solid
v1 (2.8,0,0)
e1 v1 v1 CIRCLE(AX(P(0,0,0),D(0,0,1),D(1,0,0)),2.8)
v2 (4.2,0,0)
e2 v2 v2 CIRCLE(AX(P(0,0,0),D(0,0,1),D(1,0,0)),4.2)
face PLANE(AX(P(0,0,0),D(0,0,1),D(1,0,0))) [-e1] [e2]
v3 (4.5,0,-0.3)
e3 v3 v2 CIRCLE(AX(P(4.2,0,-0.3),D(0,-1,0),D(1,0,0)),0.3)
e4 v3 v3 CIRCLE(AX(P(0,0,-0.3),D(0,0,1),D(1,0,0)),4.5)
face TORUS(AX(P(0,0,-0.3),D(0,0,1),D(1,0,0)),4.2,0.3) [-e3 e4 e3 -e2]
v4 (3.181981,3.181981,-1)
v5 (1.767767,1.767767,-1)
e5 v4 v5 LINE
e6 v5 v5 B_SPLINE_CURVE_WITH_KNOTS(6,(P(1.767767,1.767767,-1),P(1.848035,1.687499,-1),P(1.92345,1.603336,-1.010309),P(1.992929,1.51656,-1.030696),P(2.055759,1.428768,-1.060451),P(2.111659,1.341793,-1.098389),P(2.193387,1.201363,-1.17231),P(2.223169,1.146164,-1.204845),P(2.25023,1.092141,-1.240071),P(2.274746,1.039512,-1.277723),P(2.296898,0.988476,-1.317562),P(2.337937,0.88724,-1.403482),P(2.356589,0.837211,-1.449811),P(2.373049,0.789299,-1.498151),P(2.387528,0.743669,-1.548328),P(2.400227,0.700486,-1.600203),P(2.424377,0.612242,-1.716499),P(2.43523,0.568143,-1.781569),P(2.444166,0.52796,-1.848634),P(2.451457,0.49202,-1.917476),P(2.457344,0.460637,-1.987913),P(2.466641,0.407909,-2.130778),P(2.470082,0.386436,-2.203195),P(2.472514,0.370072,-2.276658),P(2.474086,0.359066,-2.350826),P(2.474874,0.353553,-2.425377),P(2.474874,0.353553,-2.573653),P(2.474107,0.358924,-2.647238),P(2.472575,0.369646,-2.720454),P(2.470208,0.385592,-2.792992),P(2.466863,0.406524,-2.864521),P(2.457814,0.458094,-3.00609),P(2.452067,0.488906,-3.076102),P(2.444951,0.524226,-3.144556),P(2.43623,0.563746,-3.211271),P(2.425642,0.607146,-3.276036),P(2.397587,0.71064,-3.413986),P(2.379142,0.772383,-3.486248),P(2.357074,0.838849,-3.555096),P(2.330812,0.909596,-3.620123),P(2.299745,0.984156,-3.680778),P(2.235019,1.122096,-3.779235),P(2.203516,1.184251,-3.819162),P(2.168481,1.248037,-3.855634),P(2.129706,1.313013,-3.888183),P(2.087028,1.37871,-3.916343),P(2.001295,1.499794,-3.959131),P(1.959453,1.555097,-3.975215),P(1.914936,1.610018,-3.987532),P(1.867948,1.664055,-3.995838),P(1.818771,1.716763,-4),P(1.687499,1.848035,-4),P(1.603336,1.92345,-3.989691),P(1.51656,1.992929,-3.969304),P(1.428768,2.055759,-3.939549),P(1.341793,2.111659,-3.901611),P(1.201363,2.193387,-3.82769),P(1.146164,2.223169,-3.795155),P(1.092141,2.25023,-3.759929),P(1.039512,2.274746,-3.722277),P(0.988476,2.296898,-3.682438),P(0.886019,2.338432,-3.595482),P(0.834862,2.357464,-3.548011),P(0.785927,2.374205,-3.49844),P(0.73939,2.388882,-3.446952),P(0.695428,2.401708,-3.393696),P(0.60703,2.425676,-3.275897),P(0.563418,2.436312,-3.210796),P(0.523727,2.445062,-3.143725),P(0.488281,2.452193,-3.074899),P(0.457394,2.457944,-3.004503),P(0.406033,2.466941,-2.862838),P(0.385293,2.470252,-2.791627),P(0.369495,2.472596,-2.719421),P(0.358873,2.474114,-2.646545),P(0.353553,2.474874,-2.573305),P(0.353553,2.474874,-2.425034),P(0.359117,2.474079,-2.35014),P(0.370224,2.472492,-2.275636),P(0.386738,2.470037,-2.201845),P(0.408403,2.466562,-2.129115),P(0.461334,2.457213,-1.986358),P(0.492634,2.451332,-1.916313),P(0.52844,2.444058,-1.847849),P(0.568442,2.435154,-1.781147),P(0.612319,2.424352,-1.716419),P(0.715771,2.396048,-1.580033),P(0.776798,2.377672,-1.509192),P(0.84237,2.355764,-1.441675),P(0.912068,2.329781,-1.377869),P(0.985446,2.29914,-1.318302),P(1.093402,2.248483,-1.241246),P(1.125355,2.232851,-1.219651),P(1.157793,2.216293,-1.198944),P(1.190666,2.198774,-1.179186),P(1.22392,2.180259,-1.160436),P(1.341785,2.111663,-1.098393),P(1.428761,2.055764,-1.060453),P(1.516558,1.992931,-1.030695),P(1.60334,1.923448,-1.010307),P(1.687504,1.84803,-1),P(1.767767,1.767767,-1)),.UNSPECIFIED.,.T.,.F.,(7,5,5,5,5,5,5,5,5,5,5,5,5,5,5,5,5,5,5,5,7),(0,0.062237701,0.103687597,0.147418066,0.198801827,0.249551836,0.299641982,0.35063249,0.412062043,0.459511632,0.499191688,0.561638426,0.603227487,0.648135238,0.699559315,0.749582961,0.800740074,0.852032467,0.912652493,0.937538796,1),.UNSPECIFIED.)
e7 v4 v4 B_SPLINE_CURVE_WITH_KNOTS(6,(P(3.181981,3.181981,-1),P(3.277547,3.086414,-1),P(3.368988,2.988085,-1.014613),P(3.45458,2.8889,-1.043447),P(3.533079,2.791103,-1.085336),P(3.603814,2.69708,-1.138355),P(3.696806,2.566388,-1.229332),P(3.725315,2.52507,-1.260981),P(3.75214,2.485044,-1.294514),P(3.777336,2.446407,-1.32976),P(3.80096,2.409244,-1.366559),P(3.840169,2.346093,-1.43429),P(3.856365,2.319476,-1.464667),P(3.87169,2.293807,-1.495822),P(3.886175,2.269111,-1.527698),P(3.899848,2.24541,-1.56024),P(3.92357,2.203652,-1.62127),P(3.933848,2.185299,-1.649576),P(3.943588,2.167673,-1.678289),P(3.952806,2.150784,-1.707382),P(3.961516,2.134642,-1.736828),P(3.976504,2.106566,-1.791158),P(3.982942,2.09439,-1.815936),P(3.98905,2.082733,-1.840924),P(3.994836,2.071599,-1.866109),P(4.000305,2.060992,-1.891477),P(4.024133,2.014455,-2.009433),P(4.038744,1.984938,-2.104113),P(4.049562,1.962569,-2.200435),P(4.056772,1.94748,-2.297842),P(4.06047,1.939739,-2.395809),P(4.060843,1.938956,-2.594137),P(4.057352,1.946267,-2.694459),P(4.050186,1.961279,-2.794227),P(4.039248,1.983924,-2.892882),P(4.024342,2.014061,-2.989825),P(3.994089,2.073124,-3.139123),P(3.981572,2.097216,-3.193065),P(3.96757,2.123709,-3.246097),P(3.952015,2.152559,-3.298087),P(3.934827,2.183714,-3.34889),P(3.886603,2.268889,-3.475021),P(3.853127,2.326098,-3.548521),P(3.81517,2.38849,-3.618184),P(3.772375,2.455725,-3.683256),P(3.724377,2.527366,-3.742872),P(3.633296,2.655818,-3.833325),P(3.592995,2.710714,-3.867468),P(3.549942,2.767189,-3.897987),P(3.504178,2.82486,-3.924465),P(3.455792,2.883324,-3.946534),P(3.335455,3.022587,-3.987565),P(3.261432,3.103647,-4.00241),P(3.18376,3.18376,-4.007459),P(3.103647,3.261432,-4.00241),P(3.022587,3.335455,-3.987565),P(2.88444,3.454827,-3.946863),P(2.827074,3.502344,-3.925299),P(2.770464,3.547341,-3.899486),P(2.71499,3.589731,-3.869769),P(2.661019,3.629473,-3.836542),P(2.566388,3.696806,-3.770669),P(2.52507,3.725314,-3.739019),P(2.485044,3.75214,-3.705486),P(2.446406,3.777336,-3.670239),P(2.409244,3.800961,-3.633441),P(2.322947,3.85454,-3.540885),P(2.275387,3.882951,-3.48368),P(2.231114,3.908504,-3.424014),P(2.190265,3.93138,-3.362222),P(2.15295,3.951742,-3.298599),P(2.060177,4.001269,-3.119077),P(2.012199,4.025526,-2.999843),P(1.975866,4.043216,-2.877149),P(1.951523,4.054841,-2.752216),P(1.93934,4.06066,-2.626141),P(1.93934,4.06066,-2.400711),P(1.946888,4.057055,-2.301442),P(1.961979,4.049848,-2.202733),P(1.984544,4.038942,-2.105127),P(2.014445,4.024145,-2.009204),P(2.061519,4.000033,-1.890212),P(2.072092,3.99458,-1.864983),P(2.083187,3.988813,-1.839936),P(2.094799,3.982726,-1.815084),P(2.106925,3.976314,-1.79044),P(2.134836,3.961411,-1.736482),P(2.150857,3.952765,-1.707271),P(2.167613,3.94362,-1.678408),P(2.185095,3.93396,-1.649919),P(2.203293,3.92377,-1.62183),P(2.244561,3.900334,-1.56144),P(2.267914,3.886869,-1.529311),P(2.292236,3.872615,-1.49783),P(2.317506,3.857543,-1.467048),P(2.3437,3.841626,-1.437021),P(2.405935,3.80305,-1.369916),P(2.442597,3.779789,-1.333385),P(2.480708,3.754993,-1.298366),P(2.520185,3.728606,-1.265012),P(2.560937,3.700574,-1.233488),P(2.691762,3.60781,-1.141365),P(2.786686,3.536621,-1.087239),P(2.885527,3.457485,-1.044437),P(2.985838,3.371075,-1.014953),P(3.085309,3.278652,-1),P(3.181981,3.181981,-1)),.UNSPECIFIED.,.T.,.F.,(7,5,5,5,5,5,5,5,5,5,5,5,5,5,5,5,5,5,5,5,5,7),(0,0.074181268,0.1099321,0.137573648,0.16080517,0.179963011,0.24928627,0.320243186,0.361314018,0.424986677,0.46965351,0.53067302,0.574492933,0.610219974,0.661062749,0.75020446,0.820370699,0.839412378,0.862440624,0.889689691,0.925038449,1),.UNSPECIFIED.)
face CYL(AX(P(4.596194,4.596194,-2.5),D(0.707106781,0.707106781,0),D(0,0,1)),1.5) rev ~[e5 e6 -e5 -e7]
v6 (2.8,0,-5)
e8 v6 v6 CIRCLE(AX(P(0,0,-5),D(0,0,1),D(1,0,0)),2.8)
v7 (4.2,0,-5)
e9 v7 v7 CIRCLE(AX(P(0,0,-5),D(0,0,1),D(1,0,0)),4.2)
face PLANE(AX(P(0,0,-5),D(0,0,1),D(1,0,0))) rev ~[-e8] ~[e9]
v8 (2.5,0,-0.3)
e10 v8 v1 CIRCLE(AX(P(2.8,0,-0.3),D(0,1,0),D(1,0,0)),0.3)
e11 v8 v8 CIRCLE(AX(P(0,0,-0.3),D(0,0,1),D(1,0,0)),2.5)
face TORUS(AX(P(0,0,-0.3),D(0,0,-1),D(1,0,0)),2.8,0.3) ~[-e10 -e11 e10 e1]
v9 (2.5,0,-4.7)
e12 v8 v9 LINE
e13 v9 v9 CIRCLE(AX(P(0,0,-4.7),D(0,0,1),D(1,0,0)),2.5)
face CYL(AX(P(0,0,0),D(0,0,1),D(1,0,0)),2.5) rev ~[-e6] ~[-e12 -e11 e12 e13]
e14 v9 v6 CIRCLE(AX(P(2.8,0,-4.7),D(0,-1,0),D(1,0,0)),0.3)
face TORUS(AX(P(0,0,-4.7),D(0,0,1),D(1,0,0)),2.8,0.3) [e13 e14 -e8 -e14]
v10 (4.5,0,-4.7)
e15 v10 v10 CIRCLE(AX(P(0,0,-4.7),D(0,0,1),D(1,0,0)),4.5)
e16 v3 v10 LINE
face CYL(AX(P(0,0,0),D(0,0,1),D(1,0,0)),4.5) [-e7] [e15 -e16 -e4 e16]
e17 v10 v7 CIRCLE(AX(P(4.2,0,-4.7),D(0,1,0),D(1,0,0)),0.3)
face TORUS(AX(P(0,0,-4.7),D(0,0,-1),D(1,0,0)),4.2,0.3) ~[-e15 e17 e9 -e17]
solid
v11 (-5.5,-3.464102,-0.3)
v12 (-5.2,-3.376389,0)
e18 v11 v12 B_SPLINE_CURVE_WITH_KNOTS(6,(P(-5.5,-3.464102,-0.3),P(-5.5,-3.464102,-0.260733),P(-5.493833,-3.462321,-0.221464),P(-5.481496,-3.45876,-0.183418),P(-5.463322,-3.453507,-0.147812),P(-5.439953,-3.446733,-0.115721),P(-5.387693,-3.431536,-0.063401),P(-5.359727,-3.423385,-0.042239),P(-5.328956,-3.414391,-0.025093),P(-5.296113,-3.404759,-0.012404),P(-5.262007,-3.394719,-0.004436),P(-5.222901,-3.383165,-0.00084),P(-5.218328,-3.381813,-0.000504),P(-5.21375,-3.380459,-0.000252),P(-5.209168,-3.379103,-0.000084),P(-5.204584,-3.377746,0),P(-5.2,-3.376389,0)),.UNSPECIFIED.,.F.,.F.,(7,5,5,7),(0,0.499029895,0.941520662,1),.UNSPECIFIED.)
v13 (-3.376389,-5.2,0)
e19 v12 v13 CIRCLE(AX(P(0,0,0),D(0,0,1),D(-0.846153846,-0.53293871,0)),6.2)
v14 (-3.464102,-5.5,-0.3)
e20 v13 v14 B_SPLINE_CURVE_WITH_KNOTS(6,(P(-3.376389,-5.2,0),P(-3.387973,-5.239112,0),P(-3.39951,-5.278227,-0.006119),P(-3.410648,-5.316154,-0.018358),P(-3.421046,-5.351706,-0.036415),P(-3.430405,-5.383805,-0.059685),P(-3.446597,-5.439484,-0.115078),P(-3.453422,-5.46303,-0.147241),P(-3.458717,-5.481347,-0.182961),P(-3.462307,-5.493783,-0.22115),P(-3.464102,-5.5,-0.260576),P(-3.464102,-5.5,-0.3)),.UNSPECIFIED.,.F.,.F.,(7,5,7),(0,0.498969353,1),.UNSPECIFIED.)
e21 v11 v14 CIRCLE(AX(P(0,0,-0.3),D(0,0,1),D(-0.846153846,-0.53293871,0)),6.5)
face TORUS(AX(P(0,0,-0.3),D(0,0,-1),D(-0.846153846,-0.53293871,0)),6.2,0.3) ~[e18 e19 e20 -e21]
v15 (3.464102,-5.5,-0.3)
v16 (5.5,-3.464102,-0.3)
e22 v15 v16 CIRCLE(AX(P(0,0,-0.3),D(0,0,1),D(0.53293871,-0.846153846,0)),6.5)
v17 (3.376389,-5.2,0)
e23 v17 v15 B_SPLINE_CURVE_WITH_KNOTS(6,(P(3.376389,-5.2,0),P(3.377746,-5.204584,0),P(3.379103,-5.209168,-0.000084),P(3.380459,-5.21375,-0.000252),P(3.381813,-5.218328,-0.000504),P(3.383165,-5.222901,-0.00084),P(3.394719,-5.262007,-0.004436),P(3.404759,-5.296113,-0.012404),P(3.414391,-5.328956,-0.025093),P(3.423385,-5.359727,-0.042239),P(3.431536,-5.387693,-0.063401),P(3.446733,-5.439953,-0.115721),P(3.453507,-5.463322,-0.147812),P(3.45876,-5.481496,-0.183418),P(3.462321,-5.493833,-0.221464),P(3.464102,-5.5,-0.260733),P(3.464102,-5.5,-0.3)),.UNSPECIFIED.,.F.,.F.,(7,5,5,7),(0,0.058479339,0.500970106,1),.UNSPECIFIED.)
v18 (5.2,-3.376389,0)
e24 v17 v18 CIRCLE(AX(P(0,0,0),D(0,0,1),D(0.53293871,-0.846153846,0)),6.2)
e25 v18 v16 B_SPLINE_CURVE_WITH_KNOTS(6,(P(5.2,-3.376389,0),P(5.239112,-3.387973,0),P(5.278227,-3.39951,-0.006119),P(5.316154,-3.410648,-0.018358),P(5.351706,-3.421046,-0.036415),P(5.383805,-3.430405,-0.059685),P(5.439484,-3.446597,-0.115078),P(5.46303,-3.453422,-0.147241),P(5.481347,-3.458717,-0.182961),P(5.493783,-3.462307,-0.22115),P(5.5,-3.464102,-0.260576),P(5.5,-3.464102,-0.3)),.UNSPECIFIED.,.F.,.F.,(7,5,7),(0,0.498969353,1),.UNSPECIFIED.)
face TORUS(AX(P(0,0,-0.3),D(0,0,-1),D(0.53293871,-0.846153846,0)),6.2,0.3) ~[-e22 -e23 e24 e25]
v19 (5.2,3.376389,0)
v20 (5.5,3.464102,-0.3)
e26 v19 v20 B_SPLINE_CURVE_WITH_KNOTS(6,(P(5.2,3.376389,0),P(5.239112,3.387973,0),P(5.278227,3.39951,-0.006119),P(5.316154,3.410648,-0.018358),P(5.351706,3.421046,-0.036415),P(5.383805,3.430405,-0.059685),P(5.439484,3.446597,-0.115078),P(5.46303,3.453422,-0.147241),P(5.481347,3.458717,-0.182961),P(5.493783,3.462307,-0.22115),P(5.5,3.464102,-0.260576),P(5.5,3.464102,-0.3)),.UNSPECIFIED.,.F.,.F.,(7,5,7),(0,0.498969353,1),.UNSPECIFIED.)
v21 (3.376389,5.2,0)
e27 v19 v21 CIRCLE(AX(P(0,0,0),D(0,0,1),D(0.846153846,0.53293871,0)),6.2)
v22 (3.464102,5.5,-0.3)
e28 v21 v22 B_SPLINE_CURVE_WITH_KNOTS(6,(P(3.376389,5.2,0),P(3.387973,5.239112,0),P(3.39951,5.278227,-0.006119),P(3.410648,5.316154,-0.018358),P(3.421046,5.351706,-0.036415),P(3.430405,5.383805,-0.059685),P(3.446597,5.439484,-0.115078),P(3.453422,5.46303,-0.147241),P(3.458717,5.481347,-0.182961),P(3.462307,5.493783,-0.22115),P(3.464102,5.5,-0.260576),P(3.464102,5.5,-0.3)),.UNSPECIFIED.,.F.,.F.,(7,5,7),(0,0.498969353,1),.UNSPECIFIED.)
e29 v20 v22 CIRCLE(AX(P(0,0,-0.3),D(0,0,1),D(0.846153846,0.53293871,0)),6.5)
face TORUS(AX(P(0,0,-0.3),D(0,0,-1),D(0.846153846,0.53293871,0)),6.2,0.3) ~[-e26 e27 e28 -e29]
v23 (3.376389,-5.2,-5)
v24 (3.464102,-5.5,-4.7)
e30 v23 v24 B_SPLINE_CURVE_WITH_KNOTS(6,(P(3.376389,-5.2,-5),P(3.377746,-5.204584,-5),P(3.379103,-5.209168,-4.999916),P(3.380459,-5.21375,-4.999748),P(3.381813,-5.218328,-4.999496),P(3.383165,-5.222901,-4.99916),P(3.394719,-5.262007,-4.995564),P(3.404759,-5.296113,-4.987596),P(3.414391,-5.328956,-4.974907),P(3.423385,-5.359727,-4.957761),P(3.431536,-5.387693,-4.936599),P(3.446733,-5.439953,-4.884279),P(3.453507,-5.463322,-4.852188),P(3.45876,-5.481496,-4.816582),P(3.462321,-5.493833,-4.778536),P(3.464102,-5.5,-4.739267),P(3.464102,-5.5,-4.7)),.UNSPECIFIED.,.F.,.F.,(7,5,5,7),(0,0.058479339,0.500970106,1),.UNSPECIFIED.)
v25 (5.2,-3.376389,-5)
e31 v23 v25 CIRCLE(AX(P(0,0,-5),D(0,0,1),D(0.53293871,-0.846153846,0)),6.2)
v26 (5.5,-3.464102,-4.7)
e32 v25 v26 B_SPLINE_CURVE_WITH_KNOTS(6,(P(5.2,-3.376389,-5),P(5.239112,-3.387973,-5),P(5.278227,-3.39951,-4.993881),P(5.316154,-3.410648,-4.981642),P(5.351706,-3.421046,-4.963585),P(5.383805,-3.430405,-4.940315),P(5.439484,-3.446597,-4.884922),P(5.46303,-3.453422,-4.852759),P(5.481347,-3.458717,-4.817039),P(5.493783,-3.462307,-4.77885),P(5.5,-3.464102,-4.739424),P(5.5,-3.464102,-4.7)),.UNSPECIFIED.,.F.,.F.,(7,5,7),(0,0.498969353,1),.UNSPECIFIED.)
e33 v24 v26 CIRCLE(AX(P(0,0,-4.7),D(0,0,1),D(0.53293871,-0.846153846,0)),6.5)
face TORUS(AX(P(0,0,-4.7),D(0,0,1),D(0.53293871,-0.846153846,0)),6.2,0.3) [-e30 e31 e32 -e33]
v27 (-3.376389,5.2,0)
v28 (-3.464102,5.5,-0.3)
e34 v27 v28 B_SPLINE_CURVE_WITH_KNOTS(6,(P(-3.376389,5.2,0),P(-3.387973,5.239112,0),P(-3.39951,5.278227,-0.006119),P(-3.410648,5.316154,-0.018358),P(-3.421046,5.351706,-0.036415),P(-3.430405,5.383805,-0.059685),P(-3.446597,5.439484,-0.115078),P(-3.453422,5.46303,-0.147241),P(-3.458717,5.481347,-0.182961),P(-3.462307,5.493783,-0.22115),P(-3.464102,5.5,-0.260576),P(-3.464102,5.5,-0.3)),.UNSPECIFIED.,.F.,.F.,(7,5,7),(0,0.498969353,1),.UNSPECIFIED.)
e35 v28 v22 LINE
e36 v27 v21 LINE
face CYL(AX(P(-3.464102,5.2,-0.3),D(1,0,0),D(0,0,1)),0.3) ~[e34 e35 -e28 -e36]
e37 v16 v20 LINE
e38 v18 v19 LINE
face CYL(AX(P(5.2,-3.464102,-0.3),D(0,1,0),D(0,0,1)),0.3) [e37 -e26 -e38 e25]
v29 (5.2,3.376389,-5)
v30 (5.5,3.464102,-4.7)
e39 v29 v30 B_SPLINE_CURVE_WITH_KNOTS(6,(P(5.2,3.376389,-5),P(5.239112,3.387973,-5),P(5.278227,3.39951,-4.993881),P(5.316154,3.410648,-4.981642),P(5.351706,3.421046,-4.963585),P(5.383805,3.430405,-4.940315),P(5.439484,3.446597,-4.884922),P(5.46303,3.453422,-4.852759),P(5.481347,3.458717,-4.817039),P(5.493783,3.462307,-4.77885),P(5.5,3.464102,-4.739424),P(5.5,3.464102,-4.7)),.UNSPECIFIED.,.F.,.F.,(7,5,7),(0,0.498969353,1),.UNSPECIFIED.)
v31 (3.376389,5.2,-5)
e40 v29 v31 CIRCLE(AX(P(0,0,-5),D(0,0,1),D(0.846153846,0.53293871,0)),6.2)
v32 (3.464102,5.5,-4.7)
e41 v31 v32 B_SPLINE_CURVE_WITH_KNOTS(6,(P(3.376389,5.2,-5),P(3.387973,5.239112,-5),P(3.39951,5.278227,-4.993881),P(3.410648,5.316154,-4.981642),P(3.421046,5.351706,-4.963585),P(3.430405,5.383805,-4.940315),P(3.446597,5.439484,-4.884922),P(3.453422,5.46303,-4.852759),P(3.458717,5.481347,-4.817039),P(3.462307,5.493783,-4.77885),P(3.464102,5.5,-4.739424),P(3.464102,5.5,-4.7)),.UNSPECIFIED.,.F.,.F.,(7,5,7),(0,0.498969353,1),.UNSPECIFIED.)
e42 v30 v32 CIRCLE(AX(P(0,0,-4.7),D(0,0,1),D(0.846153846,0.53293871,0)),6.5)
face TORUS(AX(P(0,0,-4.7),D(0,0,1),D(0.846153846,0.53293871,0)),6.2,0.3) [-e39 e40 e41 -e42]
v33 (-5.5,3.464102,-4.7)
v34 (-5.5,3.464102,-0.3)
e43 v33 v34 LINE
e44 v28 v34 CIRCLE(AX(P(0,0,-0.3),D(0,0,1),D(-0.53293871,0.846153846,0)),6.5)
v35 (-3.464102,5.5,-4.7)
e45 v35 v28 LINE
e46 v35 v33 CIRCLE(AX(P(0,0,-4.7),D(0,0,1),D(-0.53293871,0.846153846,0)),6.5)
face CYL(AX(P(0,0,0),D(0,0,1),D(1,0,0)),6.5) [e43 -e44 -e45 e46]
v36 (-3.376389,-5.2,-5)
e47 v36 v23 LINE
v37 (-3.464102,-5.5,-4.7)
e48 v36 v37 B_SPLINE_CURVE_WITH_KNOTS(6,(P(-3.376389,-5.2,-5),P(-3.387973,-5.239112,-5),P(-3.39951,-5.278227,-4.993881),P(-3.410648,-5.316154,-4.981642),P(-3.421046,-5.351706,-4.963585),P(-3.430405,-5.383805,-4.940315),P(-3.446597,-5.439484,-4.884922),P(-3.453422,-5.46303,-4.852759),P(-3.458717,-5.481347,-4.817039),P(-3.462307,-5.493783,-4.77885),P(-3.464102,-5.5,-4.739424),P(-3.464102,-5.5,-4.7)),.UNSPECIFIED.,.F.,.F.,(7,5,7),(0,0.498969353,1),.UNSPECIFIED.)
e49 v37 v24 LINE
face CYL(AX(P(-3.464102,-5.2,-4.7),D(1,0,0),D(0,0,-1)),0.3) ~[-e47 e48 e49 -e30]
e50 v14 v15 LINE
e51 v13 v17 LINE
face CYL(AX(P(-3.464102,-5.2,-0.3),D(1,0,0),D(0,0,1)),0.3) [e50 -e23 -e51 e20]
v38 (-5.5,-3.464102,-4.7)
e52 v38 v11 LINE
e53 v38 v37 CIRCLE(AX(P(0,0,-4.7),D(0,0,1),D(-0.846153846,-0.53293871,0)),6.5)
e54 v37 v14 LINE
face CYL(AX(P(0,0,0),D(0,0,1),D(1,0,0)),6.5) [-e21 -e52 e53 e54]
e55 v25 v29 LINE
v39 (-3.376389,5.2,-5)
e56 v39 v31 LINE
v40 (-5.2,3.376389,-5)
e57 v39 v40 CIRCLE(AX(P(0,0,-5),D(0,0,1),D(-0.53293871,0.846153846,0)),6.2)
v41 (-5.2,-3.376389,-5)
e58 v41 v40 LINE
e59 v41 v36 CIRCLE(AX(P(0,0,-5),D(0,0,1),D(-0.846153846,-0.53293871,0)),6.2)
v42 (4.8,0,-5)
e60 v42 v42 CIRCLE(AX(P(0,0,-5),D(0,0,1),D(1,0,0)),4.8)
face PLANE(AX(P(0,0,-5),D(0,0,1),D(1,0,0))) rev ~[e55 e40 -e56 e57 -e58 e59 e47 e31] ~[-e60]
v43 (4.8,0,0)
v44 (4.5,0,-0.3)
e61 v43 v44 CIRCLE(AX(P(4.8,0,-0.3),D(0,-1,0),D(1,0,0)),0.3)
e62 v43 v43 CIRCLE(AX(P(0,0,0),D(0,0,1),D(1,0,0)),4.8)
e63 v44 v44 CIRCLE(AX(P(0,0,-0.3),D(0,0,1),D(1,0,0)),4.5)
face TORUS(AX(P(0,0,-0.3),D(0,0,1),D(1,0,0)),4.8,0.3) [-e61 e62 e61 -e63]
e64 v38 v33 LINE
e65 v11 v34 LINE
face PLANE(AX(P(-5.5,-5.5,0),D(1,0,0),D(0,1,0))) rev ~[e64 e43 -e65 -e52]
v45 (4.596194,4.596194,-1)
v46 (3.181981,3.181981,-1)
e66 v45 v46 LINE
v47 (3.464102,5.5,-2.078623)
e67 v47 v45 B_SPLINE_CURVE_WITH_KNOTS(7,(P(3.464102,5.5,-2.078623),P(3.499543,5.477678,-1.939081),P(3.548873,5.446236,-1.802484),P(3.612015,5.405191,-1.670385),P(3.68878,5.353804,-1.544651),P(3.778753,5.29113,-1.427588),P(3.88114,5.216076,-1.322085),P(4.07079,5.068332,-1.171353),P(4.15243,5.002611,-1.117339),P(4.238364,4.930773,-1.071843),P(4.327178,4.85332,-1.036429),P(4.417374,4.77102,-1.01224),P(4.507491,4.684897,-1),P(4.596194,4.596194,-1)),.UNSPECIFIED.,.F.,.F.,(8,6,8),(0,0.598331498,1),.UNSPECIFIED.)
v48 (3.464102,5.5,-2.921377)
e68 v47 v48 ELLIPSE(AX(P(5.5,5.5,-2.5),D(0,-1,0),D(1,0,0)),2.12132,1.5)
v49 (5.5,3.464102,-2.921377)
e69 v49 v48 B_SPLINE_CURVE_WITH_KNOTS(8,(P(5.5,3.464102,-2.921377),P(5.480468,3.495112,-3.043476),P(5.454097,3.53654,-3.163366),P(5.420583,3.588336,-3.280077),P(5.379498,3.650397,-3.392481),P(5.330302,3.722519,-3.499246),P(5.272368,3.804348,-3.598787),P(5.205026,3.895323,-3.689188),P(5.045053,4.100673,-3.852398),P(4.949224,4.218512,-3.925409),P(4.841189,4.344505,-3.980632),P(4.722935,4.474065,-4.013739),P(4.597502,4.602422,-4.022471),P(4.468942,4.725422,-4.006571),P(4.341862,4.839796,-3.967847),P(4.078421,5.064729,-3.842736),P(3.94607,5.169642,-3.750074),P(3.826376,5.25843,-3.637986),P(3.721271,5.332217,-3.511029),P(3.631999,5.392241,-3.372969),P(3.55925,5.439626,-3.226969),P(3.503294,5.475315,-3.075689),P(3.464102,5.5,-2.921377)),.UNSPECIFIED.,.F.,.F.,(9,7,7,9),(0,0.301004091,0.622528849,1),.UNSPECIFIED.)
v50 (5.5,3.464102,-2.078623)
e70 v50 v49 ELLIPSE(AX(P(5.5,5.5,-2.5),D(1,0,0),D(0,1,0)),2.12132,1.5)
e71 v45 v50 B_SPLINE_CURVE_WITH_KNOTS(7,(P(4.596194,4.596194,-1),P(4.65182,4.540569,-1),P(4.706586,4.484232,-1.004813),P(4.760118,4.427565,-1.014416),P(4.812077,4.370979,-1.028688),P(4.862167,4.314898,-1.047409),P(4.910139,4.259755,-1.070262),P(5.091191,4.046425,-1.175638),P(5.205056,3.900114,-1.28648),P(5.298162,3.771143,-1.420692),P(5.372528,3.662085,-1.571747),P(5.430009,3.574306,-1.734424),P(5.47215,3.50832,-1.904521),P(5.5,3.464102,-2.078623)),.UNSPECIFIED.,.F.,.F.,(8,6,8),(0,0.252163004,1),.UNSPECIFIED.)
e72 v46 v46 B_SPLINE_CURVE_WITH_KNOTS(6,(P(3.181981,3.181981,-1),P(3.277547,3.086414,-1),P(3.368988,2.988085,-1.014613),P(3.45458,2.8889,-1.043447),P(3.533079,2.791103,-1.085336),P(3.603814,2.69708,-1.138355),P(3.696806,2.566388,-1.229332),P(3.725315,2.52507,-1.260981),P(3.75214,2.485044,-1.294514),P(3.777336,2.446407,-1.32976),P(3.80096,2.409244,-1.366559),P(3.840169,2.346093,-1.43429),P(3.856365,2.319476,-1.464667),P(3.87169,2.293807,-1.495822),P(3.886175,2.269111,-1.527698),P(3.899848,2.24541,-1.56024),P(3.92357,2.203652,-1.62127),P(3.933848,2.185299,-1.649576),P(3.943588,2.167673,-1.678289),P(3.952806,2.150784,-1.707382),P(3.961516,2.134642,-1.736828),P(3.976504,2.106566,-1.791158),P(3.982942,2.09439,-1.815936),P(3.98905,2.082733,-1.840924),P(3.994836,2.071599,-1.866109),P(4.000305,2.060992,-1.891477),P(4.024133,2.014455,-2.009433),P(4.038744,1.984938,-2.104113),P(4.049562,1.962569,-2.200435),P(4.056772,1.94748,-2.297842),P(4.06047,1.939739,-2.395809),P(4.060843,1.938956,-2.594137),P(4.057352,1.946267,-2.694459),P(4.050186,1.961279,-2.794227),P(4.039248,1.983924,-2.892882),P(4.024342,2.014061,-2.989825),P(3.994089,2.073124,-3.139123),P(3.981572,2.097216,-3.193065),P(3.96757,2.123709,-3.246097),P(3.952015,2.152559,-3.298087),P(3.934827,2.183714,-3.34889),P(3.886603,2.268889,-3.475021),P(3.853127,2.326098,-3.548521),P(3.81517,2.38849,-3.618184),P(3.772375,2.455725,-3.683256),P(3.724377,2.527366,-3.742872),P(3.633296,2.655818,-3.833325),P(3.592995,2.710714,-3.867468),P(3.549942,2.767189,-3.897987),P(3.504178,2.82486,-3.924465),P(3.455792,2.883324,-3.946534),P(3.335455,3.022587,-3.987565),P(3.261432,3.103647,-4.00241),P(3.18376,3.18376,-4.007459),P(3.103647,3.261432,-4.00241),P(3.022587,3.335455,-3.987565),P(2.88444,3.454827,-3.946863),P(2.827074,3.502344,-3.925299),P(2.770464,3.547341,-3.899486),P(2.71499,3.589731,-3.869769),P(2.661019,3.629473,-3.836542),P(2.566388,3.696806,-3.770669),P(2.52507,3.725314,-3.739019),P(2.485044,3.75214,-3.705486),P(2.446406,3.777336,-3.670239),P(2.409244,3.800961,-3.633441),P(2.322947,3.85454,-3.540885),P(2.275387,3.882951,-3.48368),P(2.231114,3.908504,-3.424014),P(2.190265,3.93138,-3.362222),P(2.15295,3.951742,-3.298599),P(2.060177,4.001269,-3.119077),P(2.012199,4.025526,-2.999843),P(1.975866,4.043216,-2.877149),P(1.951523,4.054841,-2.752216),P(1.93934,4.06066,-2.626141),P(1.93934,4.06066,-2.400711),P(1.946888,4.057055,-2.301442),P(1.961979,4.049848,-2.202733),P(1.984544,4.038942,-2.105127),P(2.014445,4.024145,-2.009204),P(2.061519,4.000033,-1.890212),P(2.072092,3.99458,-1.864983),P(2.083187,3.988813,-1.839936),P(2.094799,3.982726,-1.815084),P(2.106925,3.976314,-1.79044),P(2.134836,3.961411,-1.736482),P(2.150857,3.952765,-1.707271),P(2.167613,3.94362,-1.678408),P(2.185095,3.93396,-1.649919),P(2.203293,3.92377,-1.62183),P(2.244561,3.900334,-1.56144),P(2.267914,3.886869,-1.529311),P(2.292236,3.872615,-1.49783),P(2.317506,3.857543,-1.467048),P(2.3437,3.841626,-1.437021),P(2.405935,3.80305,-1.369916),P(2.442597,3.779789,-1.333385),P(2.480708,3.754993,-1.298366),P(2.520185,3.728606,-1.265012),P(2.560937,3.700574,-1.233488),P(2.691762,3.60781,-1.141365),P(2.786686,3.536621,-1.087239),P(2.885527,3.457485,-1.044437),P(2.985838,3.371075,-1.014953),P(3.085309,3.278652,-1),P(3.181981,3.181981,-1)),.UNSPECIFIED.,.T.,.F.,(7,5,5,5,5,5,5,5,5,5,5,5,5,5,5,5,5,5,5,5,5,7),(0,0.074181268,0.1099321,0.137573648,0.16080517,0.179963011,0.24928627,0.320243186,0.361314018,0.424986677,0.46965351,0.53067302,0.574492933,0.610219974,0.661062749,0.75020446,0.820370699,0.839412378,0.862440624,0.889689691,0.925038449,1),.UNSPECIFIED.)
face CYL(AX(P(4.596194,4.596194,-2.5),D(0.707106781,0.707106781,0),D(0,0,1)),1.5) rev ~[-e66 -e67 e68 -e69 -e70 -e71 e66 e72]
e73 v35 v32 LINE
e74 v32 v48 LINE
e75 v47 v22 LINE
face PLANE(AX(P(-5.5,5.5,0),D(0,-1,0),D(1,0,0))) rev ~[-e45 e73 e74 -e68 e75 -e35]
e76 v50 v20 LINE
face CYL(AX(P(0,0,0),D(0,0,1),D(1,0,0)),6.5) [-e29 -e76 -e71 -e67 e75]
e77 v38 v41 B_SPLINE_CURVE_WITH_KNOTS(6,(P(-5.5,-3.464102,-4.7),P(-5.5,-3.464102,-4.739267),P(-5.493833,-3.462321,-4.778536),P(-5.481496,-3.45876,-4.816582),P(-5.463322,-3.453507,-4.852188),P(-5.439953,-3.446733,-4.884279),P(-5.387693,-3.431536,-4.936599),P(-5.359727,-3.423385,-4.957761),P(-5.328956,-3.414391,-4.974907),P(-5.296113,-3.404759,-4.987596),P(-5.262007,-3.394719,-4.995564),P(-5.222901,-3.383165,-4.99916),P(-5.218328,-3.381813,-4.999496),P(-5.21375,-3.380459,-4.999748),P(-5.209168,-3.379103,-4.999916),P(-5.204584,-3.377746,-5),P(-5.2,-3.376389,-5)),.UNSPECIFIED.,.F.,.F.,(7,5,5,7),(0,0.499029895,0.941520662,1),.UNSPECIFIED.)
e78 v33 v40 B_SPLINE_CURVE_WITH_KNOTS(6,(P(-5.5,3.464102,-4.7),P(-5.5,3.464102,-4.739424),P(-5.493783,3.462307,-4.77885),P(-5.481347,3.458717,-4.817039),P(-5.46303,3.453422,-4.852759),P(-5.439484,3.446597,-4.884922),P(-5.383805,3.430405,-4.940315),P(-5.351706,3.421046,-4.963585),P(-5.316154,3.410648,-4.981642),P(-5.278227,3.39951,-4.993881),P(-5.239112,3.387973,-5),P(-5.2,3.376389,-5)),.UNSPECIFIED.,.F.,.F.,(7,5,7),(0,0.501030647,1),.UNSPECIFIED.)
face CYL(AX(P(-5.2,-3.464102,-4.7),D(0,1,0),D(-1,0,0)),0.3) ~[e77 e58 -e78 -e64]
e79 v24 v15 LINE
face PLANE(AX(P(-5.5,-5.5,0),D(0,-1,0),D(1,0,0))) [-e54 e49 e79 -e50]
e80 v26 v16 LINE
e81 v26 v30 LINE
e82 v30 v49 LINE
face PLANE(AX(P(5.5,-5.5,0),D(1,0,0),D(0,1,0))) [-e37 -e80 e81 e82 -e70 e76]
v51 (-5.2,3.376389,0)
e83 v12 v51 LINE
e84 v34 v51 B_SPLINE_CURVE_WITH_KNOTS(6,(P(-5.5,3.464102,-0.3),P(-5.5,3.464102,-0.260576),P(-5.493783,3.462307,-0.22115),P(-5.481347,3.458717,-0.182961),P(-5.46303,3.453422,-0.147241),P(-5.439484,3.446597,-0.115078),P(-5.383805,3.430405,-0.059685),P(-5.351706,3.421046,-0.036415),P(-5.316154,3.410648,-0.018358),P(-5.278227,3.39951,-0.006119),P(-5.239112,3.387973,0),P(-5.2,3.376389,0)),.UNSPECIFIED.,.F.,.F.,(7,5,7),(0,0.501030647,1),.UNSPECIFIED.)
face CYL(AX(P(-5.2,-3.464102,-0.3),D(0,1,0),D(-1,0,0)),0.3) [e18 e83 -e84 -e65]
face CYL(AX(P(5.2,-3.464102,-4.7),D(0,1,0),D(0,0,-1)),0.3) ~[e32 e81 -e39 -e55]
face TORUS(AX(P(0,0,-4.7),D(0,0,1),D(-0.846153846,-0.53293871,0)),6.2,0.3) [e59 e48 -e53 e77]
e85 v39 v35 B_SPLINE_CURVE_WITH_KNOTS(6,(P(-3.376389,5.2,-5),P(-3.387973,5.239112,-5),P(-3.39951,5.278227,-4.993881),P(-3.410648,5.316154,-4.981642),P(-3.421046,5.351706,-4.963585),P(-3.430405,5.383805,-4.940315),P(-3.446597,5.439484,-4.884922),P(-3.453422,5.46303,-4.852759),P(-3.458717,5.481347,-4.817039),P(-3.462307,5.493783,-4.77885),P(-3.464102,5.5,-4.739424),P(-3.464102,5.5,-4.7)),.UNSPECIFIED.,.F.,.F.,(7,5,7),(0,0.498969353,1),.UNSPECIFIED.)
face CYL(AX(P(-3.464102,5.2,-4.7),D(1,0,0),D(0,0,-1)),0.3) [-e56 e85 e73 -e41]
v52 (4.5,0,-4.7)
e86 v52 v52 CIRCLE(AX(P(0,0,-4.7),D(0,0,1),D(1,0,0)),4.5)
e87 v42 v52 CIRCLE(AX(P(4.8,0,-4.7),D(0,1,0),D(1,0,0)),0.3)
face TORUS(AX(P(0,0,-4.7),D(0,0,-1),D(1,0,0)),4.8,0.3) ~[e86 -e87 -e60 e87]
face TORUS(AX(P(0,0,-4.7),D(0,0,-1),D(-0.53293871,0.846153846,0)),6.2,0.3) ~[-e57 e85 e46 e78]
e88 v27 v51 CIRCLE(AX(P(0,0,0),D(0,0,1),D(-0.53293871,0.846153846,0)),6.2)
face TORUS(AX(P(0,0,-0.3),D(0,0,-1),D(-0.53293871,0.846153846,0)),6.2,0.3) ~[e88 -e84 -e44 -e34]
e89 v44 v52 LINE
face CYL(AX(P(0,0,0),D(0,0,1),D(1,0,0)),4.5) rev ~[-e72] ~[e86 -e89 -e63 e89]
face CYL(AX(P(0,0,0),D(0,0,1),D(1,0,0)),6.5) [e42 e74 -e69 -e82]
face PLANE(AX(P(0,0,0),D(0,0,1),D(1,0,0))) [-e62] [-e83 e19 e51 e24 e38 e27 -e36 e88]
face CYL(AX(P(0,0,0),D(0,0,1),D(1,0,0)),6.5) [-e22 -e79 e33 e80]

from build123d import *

# Parameters (mm, degrees)
SKETCH1_W           = 11
SKETCH1_H           = 11
BOSS_EXTRUDE1_DEPTH = 5
SKETCH2_OUTSIDE_W   = 16.268
SKETCH2_OUTSIDE_H   = 16.268
SKETCH2_OUTSIDE_R   = 6.5
CUT_EXTRUDE2_DEPTH  = 5
SKETCH3_R           = 4.5
CUT_EXTRUDE3_DEPTH  = 5
SKETCH4_R           = 4.5
SKETCH4_R_2         = 2.5
BOSS_EXTRUDE2_DEPTH = 5
FILLET1_R           = 0.3
FILLET2_R           = 0.3
SKETCH5_R           = 1.5
CUT_EXTRUDE4_DEPTH  = 8


with BuildPart() as part:
    # Sketch1 → Boss-Extrude1 (new body)
    with BuildSketch(Plane.XY):
        Rectangle(SKETCH1_W, SKETCH1_H)
    extrude(amount=-BOSS_EXTRUDE1_DEPTH)

    # Sketch2 outside → Cut-Extrude2 (cut)
    with BuildSketch(Plane.XY):
        Rectangle(SKETCH2_OUTSIDE_W, SKETCH2_OUTSIDE_H)
        Circle(SKETCH2_OUTSIDE_R, mode=Mode.SUBTRACT)
    extrude(amount=-CUT_EXTRUDE2_DEPTH, mode=Mode.SUBTRACT)

    # Sketch3 → Cut-Extrude3 (cut)
    with BuildSketch(Plane.XY):
        Circle(SKETCH3_R)
    extrude(amount=-CUT_EXTRUDE3_DEPTH, mode=Mode.SUBTRACT)

    # Fillet1
    fillet1_edges = [part.edges().sort_by_distance(p)[0] for p in [
        (-5.5, 0, 0),
        (0, -5.5, 0),
        (5.5, 0, 0),
        (0, 5.5, 0),
        (4.596194078, -4.596194078, 0),
        (-4.596194078, -4.596194078, 0),
        (-4.596194078, 4.596194078, 0),
        (-5.5, 0, -5),
        (0, 5.5, -5),
        (5.5, 0, -5),
        (0, -5.5, -5),
        (-4.596194078, 4.596194078, -5),
        (4.596194078, 4.596194078, -5),
        (4.596194078, -4.596194078, -5),
        (4.596194078, 4.596194078, 0),
        (-4.596194078, -4.596194078, -5),
        (-4.5, 0, -5),
        (-4.5, 0, 0),
    ]]
    fillet(fillet1_edges, radius=FILLET1_R)


with BuildPart() as body_2:
    # Sketch4 → Boss-Extrude2 (new body)
    with BuildSketch(Plane.XY):
        Circle(SKETCH4_R)
        Circle(SKETCH4_R_2, mode=Mode.SUBTRACT)
    extrude(amount=-BOSS_EXTRUDE2_DEPTH)

    # Fillet2
    fillet2_edges = [body_2.edges().sort_by_distance(p)[0] for p in [
        (-4.5, 0, 0),
        (-4.5, 0, -5),
        (-2.5, 0, -5),
        (-2.5, 0, 0),
    ]]
    fillet(fillet2_edges, radius=FILLET2_R)


with BuildPart() as cut_extrude4_tool:
    # Sketch5 → Cut-Extrude4 (new body)
    with BuildSketch(Plane(origin=(4.596194078, 4.596194078, 0), x_dir=(0, 0, 1), z_dir=(0.707106781, 0.707106781, 0))):
        with Locations((-2.5, 0)):
            Circle(SKETCH5_R)
    extrude(amount=-CUT_EXTRUDE4_DEPTH)


with BuildPart() as part_1:
    add(part.part)

    # Cut-Extrude4: cut by cut_extrude4_tool
    add(cut_extrude4_tool.part, mode=Mode.SUBTRACT)


with BuildPart() as body_2_1:
    add(body_2.part)

    # Cut-Extrude4: cut by cut_extrude4_tool
    add(cut_extrude4_tool.part, mode=Mode.SUBTRACT)


solid = Compound([part_1.part, body_2_1.part])
